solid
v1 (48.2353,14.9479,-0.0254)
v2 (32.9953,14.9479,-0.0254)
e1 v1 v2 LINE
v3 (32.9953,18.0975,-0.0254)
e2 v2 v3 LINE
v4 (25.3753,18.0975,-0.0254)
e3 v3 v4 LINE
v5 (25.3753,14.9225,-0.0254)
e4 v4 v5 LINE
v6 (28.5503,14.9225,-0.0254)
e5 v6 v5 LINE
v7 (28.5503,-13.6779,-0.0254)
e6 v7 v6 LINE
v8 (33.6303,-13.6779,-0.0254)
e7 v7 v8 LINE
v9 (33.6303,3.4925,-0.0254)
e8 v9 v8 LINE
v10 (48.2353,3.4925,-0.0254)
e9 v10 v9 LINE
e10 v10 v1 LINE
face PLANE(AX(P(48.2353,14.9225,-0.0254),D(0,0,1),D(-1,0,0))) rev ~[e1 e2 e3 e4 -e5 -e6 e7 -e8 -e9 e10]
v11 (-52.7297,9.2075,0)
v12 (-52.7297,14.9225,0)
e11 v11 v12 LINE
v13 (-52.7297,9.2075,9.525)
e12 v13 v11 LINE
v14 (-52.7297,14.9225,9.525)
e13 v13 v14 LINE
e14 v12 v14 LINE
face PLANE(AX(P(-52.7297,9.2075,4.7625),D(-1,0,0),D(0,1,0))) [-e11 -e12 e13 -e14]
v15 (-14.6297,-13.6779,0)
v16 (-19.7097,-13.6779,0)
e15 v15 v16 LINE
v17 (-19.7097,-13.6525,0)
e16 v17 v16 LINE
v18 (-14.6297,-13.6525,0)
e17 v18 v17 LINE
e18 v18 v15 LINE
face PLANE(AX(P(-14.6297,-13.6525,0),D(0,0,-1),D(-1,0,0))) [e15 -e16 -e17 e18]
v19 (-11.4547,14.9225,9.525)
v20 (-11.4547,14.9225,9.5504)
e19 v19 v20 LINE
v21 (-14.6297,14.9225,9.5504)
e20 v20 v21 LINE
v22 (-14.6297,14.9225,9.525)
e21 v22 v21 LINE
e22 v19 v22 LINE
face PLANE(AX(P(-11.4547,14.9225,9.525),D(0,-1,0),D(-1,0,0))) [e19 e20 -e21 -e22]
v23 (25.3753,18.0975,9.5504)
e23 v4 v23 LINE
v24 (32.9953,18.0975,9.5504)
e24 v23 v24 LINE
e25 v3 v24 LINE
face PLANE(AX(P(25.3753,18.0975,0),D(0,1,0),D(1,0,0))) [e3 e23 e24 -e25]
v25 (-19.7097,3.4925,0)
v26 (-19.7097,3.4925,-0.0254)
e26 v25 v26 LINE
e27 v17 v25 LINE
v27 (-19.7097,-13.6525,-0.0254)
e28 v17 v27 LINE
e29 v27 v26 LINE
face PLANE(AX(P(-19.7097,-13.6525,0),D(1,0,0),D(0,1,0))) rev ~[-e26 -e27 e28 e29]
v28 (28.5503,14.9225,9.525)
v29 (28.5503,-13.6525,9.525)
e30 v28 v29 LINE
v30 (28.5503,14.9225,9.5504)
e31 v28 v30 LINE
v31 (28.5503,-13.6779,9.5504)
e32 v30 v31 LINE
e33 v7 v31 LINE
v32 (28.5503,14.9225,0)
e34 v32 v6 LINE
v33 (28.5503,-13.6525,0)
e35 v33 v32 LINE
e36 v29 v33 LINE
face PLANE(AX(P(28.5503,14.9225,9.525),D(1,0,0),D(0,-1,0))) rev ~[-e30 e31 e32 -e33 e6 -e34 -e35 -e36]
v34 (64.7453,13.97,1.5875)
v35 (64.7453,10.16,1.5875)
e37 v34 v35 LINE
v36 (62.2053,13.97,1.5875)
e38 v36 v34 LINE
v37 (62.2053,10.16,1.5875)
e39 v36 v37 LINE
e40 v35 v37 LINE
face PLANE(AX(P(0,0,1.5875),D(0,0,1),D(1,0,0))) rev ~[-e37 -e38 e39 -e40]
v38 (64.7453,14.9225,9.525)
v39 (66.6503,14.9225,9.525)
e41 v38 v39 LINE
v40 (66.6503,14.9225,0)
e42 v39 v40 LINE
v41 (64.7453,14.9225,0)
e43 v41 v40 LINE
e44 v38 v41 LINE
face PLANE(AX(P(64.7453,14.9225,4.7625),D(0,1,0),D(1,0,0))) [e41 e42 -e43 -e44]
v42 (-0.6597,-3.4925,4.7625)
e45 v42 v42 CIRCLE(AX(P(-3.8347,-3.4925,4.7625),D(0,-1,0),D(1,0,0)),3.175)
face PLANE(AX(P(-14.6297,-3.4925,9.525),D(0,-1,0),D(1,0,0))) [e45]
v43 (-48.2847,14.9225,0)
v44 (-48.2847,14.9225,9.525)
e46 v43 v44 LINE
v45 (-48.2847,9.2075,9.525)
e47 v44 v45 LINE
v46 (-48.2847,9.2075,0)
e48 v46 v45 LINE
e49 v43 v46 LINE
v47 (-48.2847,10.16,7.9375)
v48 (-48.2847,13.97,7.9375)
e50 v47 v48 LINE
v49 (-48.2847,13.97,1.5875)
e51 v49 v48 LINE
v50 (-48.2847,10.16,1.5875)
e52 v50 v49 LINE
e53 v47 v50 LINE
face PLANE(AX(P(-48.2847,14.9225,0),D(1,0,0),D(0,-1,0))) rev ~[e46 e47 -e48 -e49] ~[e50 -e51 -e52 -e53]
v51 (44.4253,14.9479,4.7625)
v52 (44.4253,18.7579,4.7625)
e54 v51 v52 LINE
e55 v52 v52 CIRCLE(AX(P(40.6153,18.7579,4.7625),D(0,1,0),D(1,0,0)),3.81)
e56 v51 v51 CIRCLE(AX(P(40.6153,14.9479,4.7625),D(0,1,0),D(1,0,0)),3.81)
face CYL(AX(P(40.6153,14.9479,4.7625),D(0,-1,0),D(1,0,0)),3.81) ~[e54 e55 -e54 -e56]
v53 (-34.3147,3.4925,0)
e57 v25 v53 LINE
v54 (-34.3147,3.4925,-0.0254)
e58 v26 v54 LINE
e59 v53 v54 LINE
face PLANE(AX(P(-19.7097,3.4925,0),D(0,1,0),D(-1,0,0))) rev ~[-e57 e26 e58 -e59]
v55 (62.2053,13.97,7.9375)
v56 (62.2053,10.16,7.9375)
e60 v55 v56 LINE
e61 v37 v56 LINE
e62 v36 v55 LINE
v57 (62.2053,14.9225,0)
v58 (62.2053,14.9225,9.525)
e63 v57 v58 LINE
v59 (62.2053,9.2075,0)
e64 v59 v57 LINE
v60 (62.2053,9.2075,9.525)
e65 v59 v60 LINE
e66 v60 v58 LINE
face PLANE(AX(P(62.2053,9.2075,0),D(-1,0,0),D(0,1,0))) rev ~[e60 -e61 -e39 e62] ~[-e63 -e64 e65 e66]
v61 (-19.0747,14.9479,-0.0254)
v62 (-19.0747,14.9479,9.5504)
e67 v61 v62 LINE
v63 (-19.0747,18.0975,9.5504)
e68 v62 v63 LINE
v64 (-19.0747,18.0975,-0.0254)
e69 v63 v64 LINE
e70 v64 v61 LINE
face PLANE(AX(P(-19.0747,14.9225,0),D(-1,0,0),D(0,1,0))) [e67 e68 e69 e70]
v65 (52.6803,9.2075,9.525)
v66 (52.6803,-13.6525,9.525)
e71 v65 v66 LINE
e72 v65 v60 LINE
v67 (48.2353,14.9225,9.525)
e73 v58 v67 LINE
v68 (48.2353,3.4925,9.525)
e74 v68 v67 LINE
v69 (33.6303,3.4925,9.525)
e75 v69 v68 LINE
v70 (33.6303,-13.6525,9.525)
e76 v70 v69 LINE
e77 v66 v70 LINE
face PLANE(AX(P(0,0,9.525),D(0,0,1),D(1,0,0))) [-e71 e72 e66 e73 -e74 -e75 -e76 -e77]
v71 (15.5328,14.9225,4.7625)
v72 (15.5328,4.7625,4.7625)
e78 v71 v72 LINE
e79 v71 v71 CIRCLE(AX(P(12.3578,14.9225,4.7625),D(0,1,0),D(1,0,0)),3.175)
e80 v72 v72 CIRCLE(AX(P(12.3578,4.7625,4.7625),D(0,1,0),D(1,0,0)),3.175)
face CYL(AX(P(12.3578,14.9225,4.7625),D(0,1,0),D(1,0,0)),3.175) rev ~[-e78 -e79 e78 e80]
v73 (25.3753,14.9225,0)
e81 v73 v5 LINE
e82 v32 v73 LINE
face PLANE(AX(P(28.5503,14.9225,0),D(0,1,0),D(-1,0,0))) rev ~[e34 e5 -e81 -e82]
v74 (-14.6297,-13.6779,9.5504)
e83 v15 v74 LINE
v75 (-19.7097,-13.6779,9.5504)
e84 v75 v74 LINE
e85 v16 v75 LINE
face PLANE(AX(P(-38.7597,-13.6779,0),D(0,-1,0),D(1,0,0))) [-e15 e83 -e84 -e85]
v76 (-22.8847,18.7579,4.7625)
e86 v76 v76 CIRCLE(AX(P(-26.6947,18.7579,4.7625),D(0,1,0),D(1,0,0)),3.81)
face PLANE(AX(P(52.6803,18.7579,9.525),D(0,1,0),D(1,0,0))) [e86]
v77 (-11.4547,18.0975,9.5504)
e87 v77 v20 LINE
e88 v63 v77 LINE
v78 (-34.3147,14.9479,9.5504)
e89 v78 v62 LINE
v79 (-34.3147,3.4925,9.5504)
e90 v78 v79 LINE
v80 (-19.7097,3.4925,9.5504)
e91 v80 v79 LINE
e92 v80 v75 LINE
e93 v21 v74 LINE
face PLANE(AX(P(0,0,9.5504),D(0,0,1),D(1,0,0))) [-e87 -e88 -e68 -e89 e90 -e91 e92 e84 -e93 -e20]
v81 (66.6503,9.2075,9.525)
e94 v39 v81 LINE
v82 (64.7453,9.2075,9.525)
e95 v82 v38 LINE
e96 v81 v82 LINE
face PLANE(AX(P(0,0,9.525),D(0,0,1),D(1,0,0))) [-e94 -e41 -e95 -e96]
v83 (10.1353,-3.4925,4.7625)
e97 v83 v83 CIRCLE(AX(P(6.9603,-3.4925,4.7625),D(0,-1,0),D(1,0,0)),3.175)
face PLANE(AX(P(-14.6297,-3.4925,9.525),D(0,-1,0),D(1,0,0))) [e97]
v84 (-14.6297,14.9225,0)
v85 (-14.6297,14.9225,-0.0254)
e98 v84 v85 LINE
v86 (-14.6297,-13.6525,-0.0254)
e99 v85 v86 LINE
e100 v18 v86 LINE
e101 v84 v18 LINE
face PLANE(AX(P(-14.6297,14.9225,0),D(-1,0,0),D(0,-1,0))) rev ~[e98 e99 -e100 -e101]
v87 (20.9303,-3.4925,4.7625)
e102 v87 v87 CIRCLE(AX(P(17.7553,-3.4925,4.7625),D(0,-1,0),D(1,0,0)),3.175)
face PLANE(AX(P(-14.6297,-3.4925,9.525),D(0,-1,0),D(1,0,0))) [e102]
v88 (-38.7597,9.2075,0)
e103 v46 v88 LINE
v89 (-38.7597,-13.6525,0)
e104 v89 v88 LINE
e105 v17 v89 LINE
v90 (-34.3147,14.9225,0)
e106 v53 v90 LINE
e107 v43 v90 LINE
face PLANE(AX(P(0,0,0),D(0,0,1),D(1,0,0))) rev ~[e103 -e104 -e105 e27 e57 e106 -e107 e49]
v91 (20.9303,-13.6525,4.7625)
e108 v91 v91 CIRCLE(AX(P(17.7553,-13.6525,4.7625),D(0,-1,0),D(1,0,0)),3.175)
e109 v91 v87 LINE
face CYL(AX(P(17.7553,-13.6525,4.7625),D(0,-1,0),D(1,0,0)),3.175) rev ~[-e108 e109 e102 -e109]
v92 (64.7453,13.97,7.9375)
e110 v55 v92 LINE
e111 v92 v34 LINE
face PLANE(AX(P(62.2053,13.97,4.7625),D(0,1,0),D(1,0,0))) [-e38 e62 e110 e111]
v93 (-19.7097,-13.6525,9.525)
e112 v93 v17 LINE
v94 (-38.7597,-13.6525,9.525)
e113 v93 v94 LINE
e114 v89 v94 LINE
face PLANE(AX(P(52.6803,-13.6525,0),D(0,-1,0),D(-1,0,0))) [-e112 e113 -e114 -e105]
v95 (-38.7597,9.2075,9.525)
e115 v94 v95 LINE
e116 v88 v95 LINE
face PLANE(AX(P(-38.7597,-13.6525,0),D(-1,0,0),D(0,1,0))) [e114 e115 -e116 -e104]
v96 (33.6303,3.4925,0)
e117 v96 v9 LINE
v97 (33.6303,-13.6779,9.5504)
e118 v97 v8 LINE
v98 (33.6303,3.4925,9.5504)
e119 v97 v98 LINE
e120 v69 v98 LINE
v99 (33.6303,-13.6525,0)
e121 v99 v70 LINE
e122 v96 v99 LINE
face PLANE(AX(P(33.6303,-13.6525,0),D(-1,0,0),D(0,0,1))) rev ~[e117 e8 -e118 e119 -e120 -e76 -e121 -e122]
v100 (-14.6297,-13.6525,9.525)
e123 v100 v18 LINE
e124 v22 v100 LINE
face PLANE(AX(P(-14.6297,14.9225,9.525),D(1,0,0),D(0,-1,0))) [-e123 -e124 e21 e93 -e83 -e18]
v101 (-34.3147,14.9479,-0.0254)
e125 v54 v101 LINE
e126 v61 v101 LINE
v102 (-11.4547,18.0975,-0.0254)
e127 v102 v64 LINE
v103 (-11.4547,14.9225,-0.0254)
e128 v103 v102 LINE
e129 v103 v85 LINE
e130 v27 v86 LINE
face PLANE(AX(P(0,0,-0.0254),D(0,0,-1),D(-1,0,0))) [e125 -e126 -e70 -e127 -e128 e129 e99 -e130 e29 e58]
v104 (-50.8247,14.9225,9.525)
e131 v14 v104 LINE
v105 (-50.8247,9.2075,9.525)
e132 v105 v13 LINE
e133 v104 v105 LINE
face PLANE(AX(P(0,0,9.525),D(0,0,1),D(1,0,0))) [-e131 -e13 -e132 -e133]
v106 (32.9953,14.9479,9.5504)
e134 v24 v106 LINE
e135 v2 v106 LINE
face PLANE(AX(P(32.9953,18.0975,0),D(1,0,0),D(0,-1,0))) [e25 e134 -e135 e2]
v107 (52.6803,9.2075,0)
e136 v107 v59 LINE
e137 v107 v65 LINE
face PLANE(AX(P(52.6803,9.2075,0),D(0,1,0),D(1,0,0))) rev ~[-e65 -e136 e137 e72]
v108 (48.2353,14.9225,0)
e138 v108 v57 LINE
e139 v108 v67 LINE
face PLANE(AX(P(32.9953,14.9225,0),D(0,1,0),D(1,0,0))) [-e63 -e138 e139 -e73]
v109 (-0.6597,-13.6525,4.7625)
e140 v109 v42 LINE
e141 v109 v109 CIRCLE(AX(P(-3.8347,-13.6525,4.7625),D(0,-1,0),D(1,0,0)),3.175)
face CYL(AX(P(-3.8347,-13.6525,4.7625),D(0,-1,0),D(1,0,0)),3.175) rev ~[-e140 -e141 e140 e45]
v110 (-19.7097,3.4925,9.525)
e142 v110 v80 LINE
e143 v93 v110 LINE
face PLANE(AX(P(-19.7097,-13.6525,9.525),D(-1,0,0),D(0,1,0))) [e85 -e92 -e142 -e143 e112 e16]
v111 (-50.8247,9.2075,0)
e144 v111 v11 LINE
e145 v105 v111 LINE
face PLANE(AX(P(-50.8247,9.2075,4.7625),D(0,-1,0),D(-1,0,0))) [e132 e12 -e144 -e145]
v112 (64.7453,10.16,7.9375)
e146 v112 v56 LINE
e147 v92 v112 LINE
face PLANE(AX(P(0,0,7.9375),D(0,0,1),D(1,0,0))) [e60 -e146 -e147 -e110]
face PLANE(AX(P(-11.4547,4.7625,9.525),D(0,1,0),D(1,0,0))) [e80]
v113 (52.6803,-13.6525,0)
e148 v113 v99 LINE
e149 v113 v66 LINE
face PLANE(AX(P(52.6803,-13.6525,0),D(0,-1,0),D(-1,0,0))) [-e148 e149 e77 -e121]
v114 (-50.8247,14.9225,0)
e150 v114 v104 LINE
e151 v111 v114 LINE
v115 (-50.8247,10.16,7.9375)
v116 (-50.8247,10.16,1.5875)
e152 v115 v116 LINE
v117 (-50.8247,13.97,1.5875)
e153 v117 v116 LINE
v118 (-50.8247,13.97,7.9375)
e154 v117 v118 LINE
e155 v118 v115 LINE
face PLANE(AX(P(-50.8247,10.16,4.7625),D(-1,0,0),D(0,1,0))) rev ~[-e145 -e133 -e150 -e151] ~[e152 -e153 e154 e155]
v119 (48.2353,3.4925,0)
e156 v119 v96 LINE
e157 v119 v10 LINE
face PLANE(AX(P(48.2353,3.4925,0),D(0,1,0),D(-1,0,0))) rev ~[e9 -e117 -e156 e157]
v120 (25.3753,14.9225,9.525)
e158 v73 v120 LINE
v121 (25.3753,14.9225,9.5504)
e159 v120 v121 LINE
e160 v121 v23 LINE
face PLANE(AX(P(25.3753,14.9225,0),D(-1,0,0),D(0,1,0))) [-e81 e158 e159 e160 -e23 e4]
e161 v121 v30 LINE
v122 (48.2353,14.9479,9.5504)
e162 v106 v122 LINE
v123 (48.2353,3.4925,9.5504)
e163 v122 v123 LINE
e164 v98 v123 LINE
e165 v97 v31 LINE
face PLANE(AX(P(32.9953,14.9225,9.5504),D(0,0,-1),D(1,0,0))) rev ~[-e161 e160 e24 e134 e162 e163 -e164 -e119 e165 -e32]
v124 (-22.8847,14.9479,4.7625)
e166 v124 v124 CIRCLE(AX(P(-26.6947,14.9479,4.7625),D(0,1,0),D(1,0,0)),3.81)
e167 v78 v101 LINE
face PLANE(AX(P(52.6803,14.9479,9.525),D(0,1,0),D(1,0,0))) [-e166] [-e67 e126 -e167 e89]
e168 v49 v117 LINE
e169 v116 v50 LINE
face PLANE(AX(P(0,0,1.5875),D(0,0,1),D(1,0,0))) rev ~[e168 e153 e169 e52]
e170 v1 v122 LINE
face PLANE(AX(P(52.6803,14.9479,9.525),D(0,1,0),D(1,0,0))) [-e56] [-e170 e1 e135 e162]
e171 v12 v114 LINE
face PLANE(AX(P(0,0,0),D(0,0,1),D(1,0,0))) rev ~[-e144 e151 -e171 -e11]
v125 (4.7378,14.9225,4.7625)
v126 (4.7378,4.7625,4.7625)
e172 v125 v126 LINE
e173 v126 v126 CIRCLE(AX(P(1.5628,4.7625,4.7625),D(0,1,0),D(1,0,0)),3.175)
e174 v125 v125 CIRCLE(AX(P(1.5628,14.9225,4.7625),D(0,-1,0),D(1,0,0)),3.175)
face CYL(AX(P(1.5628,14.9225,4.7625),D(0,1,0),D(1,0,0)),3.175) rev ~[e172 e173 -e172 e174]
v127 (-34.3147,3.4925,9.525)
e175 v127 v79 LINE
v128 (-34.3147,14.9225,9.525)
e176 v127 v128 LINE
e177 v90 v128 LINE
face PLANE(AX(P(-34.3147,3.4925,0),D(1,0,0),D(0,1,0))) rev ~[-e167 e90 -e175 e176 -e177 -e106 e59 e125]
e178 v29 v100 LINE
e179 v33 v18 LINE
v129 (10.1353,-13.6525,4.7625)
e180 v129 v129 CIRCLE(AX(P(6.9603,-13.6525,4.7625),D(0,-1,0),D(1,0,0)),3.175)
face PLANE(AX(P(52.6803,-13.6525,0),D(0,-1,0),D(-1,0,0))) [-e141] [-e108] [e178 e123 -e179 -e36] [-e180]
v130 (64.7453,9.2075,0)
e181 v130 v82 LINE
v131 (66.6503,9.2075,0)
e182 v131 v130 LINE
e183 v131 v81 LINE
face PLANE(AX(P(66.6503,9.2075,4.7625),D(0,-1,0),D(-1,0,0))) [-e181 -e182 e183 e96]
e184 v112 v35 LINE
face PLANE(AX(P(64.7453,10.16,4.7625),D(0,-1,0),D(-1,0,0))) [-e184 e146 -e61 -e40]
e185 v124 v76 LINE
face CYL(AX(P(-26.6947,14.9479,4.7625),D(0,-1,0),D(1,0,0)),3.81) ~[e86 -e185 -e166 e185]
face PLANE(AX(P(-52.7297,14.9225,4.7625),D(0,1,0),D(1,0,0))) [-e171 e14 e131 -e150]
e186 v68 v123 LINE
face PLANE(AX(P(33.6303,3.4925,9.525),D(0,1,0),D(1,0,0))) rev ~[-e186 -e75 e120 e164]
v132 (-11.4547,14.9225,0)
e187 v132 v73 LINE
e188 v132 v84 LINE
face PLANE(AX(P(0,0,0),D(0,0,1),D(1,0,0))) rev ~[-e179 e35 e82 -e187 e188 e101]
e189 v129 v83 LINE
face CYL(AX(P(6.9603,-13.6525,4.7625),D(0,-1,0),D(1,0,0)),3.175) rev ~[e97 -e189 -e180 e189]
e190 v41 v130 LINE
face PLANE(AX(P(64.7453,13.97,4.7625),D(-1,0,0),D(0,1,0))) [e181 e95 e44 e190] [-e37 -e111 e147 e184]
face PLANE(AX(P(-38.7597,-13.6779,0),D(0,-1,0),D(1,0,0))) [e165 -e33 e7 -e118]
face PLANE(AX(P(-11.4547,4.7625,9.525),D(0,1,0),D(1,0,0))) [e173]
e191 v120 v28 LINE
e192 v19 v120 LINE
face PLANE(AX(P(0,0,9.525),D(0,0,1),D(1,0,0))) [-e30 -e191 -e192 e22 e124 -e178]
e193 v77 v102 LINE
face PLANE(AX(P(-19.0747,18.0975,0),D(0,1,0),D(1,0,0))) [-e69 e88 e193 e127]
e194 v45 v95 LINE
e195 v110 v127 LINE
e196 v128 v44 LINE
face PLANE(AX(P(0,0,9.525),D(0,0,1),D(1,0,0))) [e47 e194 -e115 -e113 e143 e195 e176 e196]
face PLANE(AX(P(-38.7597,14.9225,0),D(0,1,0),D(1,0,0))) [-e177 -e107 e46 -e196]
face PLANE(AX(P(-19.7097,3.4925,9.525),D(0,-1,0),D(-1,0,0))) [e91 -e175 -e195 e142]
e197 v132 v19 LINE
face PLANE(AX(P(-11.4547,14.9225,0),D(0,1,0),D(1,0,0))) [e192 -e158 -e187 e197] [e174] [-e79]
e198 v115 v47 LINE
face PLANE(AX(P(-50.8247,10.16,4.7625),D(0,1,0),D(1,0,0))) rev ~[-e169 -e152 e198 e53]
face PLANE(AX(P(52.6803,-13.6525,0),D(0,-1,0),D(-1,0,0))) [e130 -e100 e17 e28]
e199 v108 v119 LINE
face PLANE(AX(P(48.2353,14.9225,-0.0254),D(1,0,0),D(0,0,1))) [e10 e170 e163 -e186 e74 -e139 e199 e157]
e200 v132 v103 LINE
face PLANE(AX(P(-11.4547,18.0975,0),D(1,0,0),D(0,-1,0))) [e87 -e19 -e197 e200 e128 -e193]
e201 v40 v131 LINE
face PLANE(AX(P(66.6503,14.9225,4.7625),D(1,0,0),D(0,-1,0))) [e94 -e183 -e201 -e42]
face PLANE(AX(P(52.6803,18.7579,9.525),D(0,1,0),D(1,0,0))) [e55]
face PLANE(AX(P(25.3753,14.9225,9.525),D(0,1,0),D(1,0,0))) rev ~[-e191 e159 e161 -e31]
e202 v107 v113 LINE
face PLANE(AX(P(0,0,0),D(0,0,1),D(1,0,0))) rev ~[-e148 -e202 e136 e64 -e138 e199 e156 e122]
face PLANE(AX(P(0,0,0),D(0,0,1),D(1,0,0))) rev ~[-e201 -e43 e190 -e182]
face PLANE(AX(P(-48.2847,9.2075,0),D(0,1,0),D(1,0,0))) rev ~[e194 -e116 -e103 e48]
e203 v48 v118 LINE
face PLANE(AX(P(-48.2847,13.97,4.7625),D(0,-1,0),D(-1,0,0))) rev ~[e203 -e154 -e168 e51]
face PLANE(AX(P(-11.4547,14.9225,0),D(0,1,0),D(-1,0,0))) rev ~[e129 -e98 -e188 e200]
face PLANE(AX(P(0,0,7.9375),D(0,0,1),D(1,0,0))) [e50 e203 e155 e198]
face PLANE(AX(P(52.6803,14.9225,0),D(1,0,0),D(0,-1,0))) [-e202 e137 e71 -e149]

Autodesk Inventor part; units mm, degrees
ref_plane "YZ Plane" through (0, 0, 0) normal (1, 0, 0) x (0, 1, 0)
ref_plane "XZ Plane" through (0, 0, 0) normal (0, 1, 0) x (-1, 0, 0)
sketch "Sketch1" plane through (0, 0, 0) normal (0, 0, 1) x (1, 0, 0)
  line L0 (52.6803, 14.9225) -> (52.6803, -13.6525)
  line L1 (52.6803, -13.6525) -> (-38.7597, -13.6525)
  line L2 (-38.7597, -13.6525) -> (-38.7597, 14.9225)
  line L3 (-19.0747, 18.0975) -> (-11.4547, 18.0975)
  line L4 (-11.4547, 18.0975) -> (-11.4547, 14.9225)
  line L5 (-19.0747, 14.9225) -> (-19.0747, 18.0975)
  line L6 (25.3753, 18.0975) -> (32.9953, 18.0975)
  line L7 (32.9953, 18.0975) -> (32.9953, 14.9225)
  line L8 (25.3753, 14.9225) -> (25.3753, 18.0975)
  line L9 (32.9953, 14.9225) -> (52.6803, 14.9225)
  line L10 (-38.7597, 14.9225) -> (-19.0747, 14.9225)
  line L11 (-11.4547, 14.9225) -> (25.3753, 14.9225)
  point P0 (0, 0)
  dimension "d0" = 28.575
  dimension "d1" = 91.44
  dimension "d2" = 7.62
  dimension "d3" = 7.62
  dimension "d4" = 3.175
  dimension "d5" = 3.175
  dimension "d6" = 3.175
  dimension "d7" = 3.175
  dimension "d8" = 19.685
  dimension "d9" = 19.685
  dimension "d10" = 36.83
extrude "Extrusion1" add sketch "Sketch1" along normal blind 9.525
sketch "Sketch2" plane through (0, 0, 9.525) normal (0, 0, 1) x (1, 0, 0)
  line L0 (-38.7597, 14.9225) -> (-19.0747, 14.9225) projected
  line L1 (52.6803, -13.6525) -> (-38.7597, -13.6525) projected
  line L2 (32.9953, 14.9225) -> (52.6803, 14.9225) projected
  line L3 (32.9953, 18.0975) -> (32.9953, 14.9225) projected
  line L4 (25.3753, 18.0975) -> (32.9953, 18.0975) projected
  line L5 (25.3753, 14.9225) -> (25.3753, 18.0975) projected
  line L6 (-11.4547, 18.0975) -> (-11.4547, 14.9225) projected
  line L7 (-19.0747, 18.0975) -> (-11.4547, 18.0975) projected
  line L8 (-19.0747, 14.9225) -> (-19.0747, 18.0975) projected
  line L9 (-11.4547, 14.9225) -> (-14.6297, 14.9225)
  line L10 (-14.6297, 14.9225) -> (-14.6297, -13.6525)
  line L11 (25.3753, 14.9225) -> (28.5503, 14.9225)
  line L12 (28.5503, 14.9225) -> (28.5503, -13.6525)
  line L13 (33.6303, -13.6525) -> (33.6303, 3.4925)
  line L14 (33.6303, 3.4925) -> (48.2353, 3.4925)
  line L15 (48.2353, 3.4925) -> (48.2353, 14.9225)
  line L16 (-19.7097, -13.6525) -> (-19.7097, 3.4925)
  line L17 (-19.7097, 3.4925) -> (-34.3147, 3.4925)
  line L18 (-34.3147, 3.4925) -> (-34.3147, 14.9225)
  point P0 (0, 0)
  dimension "d13" = 3.175
  dimension "d14" = 3.175
  dimension "d15" = 5.08
  dimension "d16" = 5.08
  dimension "d17" = 19.685
  dimension "d18" = 19.685
  dimension "d19" = 11.43
  dimension "d20" = 11.43
extrude "Extrusion2" add sketch "Sketch2" along normal blind 0.0254
sketch "Sketch3" plane through (0, 0, 0) normal (0, 0, -1) x (-1, 0, 0)
  line L0 (19.0747, 14.9225) -> (38.7597, 14.9225) projected
  line L1 (19.0747, 18.0975) -> (19.0747, 14.9225) projected
  line L2 (11.4547, 18.0975) -> (19.0747, 18.0975) projected
  line L3 (11.4547, 14.9225) -> (11.4547, 18.0975) projected
  line L4 (-25.3753, 18.0975) -> (-25.3753, 14.9225) projected
  line L5 (-32.9953, 18.0975) -> (-25.3753, 18.0975) projected
  line L6 (-32.9953, 14.9225) -> (-32.9953, 18.0975) projected
  line L7 (-52.6803, 14.9225) -> (-32.9953, 14.9225) projected
  line L8 (38.7597, -13.6525) -> (-52.6803, -13.6525) projected
  line L9 (-28.5503, -13.6525) -> (-28.5503, 14.9225) projected
  line L10 (-28.5503, 14.9225) -> (-25.3753, 14.9225) projected
  line L11 (-48.2353, 14.9225) -> (-48.2353, 3.4925) projected
  line L12 (-48.2353, 3.4925) -> (-33.6303, 3.4925) projected
  line L13 (-33.6303, 3.4925) -> (-33.6303, -13.6525) projected
  line L14 (14.6297, 14.9225) -> (14.6297, -13.6525) projected
  line L15 (11.4547, 14.9225) -> (14.6297, 14.9225) projected
  line L16 (34.3147, 3.4925) -> (34.3147, 14.9225) projected
  line L17 (19.7097, 3.4925) -> (34.3147, 3.4925) projected
  line L18 (19.7097, -13.6525) -> (19.7097, 3.4925) projected
  point P0 (0, 0)
extrude "Extrusion3" add sketch "Sketch3" along normal blind 0.0254
sketch "Sketch4" plane through (-38.7597, -13.6525, 0) normal (0, -1, 0) x (1, 0, 0)
  line L0 (72.39, 9.5504) -> (67.31, 9.5504) projected
  line L1 (67.31, 9.525) -> (67.31, 9.5504) projected
  line L2 (67.31, -0.0254) -> (72.39, -0.0254) projected
  line L3 (72.39, 0) -> (72.39, -0.0254) projected
  line L4 (19.685, -0.0254) -> (4.445, -0.0254) projected
  line L5 (27.305, -0.0254) -> (19.685, -0.0254) projected
  line L6 (24.13, -0.0254) -> (27.305, -0.0254) projected
  line L7 (19.05, -0.0254) -> (24.13, -0.0254) projected
  line L8 (4.445, -0.0254) -> (19.05, -0.0254) projected
  line L9 (72.39, 0) -> (72.39, 9.5504)
  line L10 (24.13, -0.0254) -> (24.13, 9.5504)
  line L11 (19.05, -0.0254) -> (19.05, 9.525)
  line L12 (67.31, -0.0254) -> (67.31, 9.525)
  line L13 (91.44, 0) -> (91.44, 9.525) projected
  line L14 (24.13, 0) -> (19.05, 0)
  line L15 (19.05, 9.5504) -> (24.13, 9.525)
  line L16 (24.13, 0) -> (19.05, 0)
  line L17 (19.05, 0) -> (19.05, 9.5504)
  line L18 (19.05, 9.5504) -> (24.13, 9.5504)
  line L19 (24.13, 9.5504) -> (24.13, 0)
  point P0 (38.7597, 0)
extrude "Extrusion4" add sketch "Sketch4" along normal blind 0.0254 contours L9 L3 L2 L12 L1 L0 | L11 L17 L15 L10 L14 | L15 L18 L10
sketch "Sketch5" plane through (52.6803, 14.9225, 9.525) normal (0, 1, 0) x (1, 0, 0)
  line L0 (-4.445, 9.5504) -> (-19.685, 9.5504) projected
  line L1 (-19.685, -0.0254) -> (-4.445, -0.0254) projected
  line L2 (-64.135, 0) -> (-27.305, 0) projected
  line L3 (-27.305, 9.525) -> (-27.305, 0) projected
  line L4 (-27.305, 9.525) -> (-64.135, 9.525) projected
  line L5 (-64.135, 9.525) -> (-64.135, 0) projected
  line L6 (-91.44, 0) -> (-86.995, 0) projected
  line L7 (-86.995, 0) -> (-86.995, -0.0254) projected
  line L8 (-86.995, -0.0254) -> (-71.755, -0.0254) projected
  line L9 (-71.755, 9.5504) -> (-71.755, -0.0254) projected
  line L10 (-71.755, 9.5504) -> (-86.995, 9.5504) projected
  line L11 (-86.995, 9.525) -> (-86.995, 9.5504) projected
  line L12 (-86.995, 9.525) -> (-91.44, 9.525) projected
  line L13 (-91.44, 9.525) -> (-91.44, 0) projected
  line L14 (-71.755, 9.5504) -> (-71.755, -0.0254) projected
  line L15 (-27.305, 9.5504) -> (-27.305, -0.0254) projected
  line L16 (-19.685, 9.5504) -> (-19.685, -0.0254) projected
  line L17 (-64.135, 9.5504) -> (-64.135, -0.0254) projected
  line L18 (-4.445, 9.5504) -> (-4.445, -0.0254)
  line L19 (-86.995, -0.0254) -> (-86.995, 9.525)
  point P0 (-52.6803, 9.525)
extrude "Extrusion5" add sketch "Sketch5" along normal blind 0.0254 contours L18 L1 L16 L0 | L19 L11 L10 L9 L8 L7
sketch "Sketch6" plane through (0, 0, 0) normal (0, 0, -1) x (-1, 0, 0)
  line L0 (-52.6803, -13.6525) -> (-52.6803, 14.9225) projected
  line L1 (19.7097, 3.4925) -> (19.7097, -13.6525) projected
  line L2 (38.7597, -13.6525) -> (19.7097, -13.6525) projected
  line L3 (38.7597, 14.9225) -> (38.7597, -13.6525) projected
  line L4 (34.3147, 14.9225) -> (38.7597, 14.9225) projected
  line L5 (34.3147, 14.9225) -> (34.3147, 3.4925) projected
  line L6 (34.3147, 3.4925) -> (19.7097, 3.4925) projected
  line L7 (-62.2053, 14.9225) -> (-52.6803, 14.9225)
  line L8 (-52.6803, 14.9225) -> (-52.6803, 9.2075)
  line L9 (-52.6803, 9.2075) -> (-62.2053, 9.2075)
  line L10 (-62.2053, 9.2075) -> (-62.2053, 14.9225)
  line L11 (38.7597, 14.9225) -> (48.2847, 14.9225)
  line L12 (48.2847, 14.9225) -> (48.2847, 9.2075)
  line L13 (48.2847, 9.2075) -> (38.7597, 9.2075)
  line L14 (38.7597, 9.2075) -> (38.7597, 14.9225)
  point P0 (0, 0)
  dimension "d29" = 9.525
  dimension "d30" = 9.525
  dimension "d31" = 5.715
  dimension "d32" = 5.715
extrude "Extrusion6" add sketch "Sketch6" against normal blind 9.525 contours L9 L10 L7 L0 | L3 L11 L12 L13
ref_plane "Work Plane1" through (0, 0, 4.7625) normal (0, 0, 1) x (1, 0, 0)
sketch "Sketch7" plane through (0, 0, 4.7625) normal (0, 0, 1) x (1, 0, 0)
  line L0 (-19.7097, 3.4925) -> (-19.7097, -13.6525) projected
  line L1 (-38.7597, -13.6525) -> (-19.7097, -13.6525) projected
  line L2 (-38.7597, 9.2075) -> (-38.7597, -13.6525) projected
  line L3 (-38.7597, 9.2075) -> (-48.2847, 9.2075) projected
  line L4 (-48.2847, 9.2075) -> (-48.2847, 14.9225) projected
  line L5 (-34.3147, 14.9225) -> (-48.2847, 14.9225) projected
  line L6 (-34.3147, 14.9225) -> (-34.3147, 3.4925) projected
  line L7 (-34.3147, 3.4925) -> (-19.7097, 3.4925) projected
  line L8 (48.2353, 3.4925) -> (48.2353, 14.9225) projected
  line L9 (48.2353, 14.9225) -> (62.2053, 14.9225) projected
  line L10 (62.2053, 14.9225) -> (62.2053, 9.2075) projected
  line L11 (62.2053, 9.2075) -> (52.6803, 9.2075) projected
  line L12 (52.6803, -13.6525) -> (52.6803, 9.2075) projected
  line L13 (33.6303, -13.6525) -> (52.6803, -13.6525) projected
  line L14 (33.6303, -13.6525) -> (33.6303, 3.4925) projected
  line L15 (33.6303, 3.4925) -> (48.2353, 3.4925) projected
  line L16 (-48.2847, 13.97) -> (-50.8247, 13.97)
  line L17 (-50.8247, 13.97) -> (-50.8247, 10.16)
  line L18 (-50.8247, 10.16) -> (-48.2847, 10.16)
  line L19 (-48.2847, 10.16) -> (-48.2847, 13.97)
  line L20 (62.2053, 13.97) -> (64.7453, 13.97)
  line L21 (64.7453, 13.97) -> (64.7453, 10.16)
  line L22 (64.7453, 10.16) -> (62.2053, 10.16)
  line L23 (62.2053, 10.16) -> (62.2053, 13.97)
  point P0 (0, 0)
  dimension "d36" = 2.54
  dimension "d37" = 2.54
  dimension "d38" = 3.81
  dimension "d39" = 3.81
  dimension "d40" = 0.9525
  dimension "d41" = 0.9525
  dimension "d42" = 0.9525
extrude "Extrusion7" add sketch "Sketch7" along normal mid plane 6.35 contours L4 L18 L17 L16 | L20 L21 L22 L10
sketch "Sketch8" plane through (0, 0, 4.7625) normal (0, 0, 1) x (1, 0, 0)
  line L0 (-48.2847, 13.97) -> (-48.2847, 10.16) projected
  line L1 (-50.8247, 13.97) -> (-48.2847, 13.97) projected
  line L2 (-50.8247, 10.16) -> (-50.8247, 13.97) projected
  line L3 (-48.2847, 10.16) -> (-50.8247, 10.16) projected
  line L4 (62.2053, 13.97) -> (64.7453, 13.97) projected
  line L5 (62.2053, 10.16) -> (62.2053, 13.97) projected
  line L6 (64.7453, 10.16) -> (62.2053, 10.16) projected
  line L7 (64.7453, 13.97) -> (64.7453, 10.16) projected
  line L8 (-52.7297, 14.9225) -> (-50.8247, 14.9225)
  line L9 (-50.8247, 14.9225) -> (-50.8247, 9.2075)
  line L10 (-50.8247, 9.2075) -> (-52.7297, 9.2075)
  line L11 (-52.7297, 9.2075) -> (-52.7297, 14.9225)
  line L12 (64.7453, 14.9225) -> (66.6503, 14.9225)
  line L13 (66.6503, 14.9225) -> (66.6503, 9.2075)
  line L14 (66.6503, 9.2075) -> (64.7453, 9.2075)
  line L15 (64.7453, 9.2075) -> (64.7453, 14.9225)
  line L16 (48.2353, 14.9225) -> (62.2053, 14.9225) projected
  line L17 (62.2053, 9.2075) -> (52.6803, 9.2075) projected
  line L18 (-38.7597, 9.2075) -> (-48.2847, 9.2075) projected
  line L19 (-48.2847, 14.9225) -> (-34.3147, 14.9225) projected
  point P0 (0, 0)
  dimension "d45" = 0
  dimension "d46" = 0
  dimension "d47" = 0
  dimension "d48" = 0
  dimension "d49" = 1.905
  dimension "d50" = 5.715
  dimension "d51" = 0
  dimension "d52" = 1.905
  dimension "d53" = 0
extrude "Extrusion8" add sketch "Sketch8" along normal mid plane 9.525 contours L2 L9 L10 L11 L8 | L15 L12 L13 L14 L7
sketch "Sketch9" plane through (52.6803, 14.9479, 9.525) normal (0, 1, 0) x (1, 0, 0)
  line L0 (-4.445, 9.5504) -> (-4.445, -0.0254) projected
  line L1 (-19.685, 9.5504) -> (-4.445, 9.5504) projected
  line L2 (-19.685, -0.0254) -> (-19.685, 9.5504) projected
  line L3 (-4.445, -0.0254) -> (-19.685, -0.0254) projected
  circle A0 centre (-12.065, 4.7625) radius 3.81
  circle A1 centre (-79.375, 4.7625) radius 3.81
  point P0 (-52.6803, 9.525)
  dimension "d56" = 7.62
  dimension "d57" = 7.62
extrude "Extrusion9" add sketch "Sketch9" along normal blind 3.81 contours A0 | A1
sketch "Sketch10" plane through (-14.6297, -13.6525, 9.525) normal (0, -1, 0) x (1, 0, 0)
  line L0 (43.18, -9.525) -> (43.18, 0) projected
  line L1 (0, 0) -> (0, -9.525) projected
  circle A0 centre (10.795, -4.7625) radius 3.175
  circle A1 centre (21.59, -4.7625) radius 3.175
  circle A2 centre (32.385, -4.7625) radius 3.175
  point P0 (14.6297, -9.525)
  dimension "d60" = 6.35
  dimension "d61" = 10.795
  dimension "d62" = 10.795
  dimension "d63" = 10.795
  dimension "d64" = 10.795
extrude "Extrusion10" cut sketch "Sketch10" against normal blind 10.16
sketch "Sketch11" plane through (-11.4547, 14.9225, 9.525) normal (0, 1, 0) x (1, 0, 0)
  line L0 (36.83, 9.525) -> (36.83, 0) projected
  line L1 (0, 9.525) -> (0, 0) projected
  circle A0 centre (23.8125, 4.7625) radius 3.175
  circle A1 centre (13.0175, 4.7625) radius 3.175
  line L2 (23.8125, 4.7625) -> (36.83, 4.7625)
  line L3 (13.0175, 4.7625) -> (0, 4.7625)
  point P0 (11.4547, 9.525)
  dimension "d67" = 6.35
  dimension "d68" = 10.795
extrude "Extrusion11" cut sketch "Sketch11" against normal blind 10.16
sketch "Sketch12" plane through (0, 0, 9.525) normal (0, 0, 1) x (1, 0, 0)
  line L0 (-11.4547, 14.9225) -> (25.3753, 14.9225) projected
  line L1 (-14.6297, 14.9225) -> (-14.6297, -13.6525) projected
  line L2 (28.5503, -13.6525) -> (-14.6297, -13.6525) projected
  line L3 (-10.8197, -9.525) -> (-10.8197, 10.795) construction
  line L4 (-10.8197, 10.795) -> (-6.9164, 10.795) construction
  line L5 (-6.9164, 10.795) -> (-6.9164, -9.525) construction
  line L6 (-6.9164, -9.525) -> (-10.8197, -9.525) construction
  point P0 (0, 0)
  dimension "d72" = 20.32
  dimension "d84" = 3.81
  dimension "d85" = 4.1275
  dimension "d86" = 4.1275
decal "Decal1"
properties part number "Festo Valve 1764"
